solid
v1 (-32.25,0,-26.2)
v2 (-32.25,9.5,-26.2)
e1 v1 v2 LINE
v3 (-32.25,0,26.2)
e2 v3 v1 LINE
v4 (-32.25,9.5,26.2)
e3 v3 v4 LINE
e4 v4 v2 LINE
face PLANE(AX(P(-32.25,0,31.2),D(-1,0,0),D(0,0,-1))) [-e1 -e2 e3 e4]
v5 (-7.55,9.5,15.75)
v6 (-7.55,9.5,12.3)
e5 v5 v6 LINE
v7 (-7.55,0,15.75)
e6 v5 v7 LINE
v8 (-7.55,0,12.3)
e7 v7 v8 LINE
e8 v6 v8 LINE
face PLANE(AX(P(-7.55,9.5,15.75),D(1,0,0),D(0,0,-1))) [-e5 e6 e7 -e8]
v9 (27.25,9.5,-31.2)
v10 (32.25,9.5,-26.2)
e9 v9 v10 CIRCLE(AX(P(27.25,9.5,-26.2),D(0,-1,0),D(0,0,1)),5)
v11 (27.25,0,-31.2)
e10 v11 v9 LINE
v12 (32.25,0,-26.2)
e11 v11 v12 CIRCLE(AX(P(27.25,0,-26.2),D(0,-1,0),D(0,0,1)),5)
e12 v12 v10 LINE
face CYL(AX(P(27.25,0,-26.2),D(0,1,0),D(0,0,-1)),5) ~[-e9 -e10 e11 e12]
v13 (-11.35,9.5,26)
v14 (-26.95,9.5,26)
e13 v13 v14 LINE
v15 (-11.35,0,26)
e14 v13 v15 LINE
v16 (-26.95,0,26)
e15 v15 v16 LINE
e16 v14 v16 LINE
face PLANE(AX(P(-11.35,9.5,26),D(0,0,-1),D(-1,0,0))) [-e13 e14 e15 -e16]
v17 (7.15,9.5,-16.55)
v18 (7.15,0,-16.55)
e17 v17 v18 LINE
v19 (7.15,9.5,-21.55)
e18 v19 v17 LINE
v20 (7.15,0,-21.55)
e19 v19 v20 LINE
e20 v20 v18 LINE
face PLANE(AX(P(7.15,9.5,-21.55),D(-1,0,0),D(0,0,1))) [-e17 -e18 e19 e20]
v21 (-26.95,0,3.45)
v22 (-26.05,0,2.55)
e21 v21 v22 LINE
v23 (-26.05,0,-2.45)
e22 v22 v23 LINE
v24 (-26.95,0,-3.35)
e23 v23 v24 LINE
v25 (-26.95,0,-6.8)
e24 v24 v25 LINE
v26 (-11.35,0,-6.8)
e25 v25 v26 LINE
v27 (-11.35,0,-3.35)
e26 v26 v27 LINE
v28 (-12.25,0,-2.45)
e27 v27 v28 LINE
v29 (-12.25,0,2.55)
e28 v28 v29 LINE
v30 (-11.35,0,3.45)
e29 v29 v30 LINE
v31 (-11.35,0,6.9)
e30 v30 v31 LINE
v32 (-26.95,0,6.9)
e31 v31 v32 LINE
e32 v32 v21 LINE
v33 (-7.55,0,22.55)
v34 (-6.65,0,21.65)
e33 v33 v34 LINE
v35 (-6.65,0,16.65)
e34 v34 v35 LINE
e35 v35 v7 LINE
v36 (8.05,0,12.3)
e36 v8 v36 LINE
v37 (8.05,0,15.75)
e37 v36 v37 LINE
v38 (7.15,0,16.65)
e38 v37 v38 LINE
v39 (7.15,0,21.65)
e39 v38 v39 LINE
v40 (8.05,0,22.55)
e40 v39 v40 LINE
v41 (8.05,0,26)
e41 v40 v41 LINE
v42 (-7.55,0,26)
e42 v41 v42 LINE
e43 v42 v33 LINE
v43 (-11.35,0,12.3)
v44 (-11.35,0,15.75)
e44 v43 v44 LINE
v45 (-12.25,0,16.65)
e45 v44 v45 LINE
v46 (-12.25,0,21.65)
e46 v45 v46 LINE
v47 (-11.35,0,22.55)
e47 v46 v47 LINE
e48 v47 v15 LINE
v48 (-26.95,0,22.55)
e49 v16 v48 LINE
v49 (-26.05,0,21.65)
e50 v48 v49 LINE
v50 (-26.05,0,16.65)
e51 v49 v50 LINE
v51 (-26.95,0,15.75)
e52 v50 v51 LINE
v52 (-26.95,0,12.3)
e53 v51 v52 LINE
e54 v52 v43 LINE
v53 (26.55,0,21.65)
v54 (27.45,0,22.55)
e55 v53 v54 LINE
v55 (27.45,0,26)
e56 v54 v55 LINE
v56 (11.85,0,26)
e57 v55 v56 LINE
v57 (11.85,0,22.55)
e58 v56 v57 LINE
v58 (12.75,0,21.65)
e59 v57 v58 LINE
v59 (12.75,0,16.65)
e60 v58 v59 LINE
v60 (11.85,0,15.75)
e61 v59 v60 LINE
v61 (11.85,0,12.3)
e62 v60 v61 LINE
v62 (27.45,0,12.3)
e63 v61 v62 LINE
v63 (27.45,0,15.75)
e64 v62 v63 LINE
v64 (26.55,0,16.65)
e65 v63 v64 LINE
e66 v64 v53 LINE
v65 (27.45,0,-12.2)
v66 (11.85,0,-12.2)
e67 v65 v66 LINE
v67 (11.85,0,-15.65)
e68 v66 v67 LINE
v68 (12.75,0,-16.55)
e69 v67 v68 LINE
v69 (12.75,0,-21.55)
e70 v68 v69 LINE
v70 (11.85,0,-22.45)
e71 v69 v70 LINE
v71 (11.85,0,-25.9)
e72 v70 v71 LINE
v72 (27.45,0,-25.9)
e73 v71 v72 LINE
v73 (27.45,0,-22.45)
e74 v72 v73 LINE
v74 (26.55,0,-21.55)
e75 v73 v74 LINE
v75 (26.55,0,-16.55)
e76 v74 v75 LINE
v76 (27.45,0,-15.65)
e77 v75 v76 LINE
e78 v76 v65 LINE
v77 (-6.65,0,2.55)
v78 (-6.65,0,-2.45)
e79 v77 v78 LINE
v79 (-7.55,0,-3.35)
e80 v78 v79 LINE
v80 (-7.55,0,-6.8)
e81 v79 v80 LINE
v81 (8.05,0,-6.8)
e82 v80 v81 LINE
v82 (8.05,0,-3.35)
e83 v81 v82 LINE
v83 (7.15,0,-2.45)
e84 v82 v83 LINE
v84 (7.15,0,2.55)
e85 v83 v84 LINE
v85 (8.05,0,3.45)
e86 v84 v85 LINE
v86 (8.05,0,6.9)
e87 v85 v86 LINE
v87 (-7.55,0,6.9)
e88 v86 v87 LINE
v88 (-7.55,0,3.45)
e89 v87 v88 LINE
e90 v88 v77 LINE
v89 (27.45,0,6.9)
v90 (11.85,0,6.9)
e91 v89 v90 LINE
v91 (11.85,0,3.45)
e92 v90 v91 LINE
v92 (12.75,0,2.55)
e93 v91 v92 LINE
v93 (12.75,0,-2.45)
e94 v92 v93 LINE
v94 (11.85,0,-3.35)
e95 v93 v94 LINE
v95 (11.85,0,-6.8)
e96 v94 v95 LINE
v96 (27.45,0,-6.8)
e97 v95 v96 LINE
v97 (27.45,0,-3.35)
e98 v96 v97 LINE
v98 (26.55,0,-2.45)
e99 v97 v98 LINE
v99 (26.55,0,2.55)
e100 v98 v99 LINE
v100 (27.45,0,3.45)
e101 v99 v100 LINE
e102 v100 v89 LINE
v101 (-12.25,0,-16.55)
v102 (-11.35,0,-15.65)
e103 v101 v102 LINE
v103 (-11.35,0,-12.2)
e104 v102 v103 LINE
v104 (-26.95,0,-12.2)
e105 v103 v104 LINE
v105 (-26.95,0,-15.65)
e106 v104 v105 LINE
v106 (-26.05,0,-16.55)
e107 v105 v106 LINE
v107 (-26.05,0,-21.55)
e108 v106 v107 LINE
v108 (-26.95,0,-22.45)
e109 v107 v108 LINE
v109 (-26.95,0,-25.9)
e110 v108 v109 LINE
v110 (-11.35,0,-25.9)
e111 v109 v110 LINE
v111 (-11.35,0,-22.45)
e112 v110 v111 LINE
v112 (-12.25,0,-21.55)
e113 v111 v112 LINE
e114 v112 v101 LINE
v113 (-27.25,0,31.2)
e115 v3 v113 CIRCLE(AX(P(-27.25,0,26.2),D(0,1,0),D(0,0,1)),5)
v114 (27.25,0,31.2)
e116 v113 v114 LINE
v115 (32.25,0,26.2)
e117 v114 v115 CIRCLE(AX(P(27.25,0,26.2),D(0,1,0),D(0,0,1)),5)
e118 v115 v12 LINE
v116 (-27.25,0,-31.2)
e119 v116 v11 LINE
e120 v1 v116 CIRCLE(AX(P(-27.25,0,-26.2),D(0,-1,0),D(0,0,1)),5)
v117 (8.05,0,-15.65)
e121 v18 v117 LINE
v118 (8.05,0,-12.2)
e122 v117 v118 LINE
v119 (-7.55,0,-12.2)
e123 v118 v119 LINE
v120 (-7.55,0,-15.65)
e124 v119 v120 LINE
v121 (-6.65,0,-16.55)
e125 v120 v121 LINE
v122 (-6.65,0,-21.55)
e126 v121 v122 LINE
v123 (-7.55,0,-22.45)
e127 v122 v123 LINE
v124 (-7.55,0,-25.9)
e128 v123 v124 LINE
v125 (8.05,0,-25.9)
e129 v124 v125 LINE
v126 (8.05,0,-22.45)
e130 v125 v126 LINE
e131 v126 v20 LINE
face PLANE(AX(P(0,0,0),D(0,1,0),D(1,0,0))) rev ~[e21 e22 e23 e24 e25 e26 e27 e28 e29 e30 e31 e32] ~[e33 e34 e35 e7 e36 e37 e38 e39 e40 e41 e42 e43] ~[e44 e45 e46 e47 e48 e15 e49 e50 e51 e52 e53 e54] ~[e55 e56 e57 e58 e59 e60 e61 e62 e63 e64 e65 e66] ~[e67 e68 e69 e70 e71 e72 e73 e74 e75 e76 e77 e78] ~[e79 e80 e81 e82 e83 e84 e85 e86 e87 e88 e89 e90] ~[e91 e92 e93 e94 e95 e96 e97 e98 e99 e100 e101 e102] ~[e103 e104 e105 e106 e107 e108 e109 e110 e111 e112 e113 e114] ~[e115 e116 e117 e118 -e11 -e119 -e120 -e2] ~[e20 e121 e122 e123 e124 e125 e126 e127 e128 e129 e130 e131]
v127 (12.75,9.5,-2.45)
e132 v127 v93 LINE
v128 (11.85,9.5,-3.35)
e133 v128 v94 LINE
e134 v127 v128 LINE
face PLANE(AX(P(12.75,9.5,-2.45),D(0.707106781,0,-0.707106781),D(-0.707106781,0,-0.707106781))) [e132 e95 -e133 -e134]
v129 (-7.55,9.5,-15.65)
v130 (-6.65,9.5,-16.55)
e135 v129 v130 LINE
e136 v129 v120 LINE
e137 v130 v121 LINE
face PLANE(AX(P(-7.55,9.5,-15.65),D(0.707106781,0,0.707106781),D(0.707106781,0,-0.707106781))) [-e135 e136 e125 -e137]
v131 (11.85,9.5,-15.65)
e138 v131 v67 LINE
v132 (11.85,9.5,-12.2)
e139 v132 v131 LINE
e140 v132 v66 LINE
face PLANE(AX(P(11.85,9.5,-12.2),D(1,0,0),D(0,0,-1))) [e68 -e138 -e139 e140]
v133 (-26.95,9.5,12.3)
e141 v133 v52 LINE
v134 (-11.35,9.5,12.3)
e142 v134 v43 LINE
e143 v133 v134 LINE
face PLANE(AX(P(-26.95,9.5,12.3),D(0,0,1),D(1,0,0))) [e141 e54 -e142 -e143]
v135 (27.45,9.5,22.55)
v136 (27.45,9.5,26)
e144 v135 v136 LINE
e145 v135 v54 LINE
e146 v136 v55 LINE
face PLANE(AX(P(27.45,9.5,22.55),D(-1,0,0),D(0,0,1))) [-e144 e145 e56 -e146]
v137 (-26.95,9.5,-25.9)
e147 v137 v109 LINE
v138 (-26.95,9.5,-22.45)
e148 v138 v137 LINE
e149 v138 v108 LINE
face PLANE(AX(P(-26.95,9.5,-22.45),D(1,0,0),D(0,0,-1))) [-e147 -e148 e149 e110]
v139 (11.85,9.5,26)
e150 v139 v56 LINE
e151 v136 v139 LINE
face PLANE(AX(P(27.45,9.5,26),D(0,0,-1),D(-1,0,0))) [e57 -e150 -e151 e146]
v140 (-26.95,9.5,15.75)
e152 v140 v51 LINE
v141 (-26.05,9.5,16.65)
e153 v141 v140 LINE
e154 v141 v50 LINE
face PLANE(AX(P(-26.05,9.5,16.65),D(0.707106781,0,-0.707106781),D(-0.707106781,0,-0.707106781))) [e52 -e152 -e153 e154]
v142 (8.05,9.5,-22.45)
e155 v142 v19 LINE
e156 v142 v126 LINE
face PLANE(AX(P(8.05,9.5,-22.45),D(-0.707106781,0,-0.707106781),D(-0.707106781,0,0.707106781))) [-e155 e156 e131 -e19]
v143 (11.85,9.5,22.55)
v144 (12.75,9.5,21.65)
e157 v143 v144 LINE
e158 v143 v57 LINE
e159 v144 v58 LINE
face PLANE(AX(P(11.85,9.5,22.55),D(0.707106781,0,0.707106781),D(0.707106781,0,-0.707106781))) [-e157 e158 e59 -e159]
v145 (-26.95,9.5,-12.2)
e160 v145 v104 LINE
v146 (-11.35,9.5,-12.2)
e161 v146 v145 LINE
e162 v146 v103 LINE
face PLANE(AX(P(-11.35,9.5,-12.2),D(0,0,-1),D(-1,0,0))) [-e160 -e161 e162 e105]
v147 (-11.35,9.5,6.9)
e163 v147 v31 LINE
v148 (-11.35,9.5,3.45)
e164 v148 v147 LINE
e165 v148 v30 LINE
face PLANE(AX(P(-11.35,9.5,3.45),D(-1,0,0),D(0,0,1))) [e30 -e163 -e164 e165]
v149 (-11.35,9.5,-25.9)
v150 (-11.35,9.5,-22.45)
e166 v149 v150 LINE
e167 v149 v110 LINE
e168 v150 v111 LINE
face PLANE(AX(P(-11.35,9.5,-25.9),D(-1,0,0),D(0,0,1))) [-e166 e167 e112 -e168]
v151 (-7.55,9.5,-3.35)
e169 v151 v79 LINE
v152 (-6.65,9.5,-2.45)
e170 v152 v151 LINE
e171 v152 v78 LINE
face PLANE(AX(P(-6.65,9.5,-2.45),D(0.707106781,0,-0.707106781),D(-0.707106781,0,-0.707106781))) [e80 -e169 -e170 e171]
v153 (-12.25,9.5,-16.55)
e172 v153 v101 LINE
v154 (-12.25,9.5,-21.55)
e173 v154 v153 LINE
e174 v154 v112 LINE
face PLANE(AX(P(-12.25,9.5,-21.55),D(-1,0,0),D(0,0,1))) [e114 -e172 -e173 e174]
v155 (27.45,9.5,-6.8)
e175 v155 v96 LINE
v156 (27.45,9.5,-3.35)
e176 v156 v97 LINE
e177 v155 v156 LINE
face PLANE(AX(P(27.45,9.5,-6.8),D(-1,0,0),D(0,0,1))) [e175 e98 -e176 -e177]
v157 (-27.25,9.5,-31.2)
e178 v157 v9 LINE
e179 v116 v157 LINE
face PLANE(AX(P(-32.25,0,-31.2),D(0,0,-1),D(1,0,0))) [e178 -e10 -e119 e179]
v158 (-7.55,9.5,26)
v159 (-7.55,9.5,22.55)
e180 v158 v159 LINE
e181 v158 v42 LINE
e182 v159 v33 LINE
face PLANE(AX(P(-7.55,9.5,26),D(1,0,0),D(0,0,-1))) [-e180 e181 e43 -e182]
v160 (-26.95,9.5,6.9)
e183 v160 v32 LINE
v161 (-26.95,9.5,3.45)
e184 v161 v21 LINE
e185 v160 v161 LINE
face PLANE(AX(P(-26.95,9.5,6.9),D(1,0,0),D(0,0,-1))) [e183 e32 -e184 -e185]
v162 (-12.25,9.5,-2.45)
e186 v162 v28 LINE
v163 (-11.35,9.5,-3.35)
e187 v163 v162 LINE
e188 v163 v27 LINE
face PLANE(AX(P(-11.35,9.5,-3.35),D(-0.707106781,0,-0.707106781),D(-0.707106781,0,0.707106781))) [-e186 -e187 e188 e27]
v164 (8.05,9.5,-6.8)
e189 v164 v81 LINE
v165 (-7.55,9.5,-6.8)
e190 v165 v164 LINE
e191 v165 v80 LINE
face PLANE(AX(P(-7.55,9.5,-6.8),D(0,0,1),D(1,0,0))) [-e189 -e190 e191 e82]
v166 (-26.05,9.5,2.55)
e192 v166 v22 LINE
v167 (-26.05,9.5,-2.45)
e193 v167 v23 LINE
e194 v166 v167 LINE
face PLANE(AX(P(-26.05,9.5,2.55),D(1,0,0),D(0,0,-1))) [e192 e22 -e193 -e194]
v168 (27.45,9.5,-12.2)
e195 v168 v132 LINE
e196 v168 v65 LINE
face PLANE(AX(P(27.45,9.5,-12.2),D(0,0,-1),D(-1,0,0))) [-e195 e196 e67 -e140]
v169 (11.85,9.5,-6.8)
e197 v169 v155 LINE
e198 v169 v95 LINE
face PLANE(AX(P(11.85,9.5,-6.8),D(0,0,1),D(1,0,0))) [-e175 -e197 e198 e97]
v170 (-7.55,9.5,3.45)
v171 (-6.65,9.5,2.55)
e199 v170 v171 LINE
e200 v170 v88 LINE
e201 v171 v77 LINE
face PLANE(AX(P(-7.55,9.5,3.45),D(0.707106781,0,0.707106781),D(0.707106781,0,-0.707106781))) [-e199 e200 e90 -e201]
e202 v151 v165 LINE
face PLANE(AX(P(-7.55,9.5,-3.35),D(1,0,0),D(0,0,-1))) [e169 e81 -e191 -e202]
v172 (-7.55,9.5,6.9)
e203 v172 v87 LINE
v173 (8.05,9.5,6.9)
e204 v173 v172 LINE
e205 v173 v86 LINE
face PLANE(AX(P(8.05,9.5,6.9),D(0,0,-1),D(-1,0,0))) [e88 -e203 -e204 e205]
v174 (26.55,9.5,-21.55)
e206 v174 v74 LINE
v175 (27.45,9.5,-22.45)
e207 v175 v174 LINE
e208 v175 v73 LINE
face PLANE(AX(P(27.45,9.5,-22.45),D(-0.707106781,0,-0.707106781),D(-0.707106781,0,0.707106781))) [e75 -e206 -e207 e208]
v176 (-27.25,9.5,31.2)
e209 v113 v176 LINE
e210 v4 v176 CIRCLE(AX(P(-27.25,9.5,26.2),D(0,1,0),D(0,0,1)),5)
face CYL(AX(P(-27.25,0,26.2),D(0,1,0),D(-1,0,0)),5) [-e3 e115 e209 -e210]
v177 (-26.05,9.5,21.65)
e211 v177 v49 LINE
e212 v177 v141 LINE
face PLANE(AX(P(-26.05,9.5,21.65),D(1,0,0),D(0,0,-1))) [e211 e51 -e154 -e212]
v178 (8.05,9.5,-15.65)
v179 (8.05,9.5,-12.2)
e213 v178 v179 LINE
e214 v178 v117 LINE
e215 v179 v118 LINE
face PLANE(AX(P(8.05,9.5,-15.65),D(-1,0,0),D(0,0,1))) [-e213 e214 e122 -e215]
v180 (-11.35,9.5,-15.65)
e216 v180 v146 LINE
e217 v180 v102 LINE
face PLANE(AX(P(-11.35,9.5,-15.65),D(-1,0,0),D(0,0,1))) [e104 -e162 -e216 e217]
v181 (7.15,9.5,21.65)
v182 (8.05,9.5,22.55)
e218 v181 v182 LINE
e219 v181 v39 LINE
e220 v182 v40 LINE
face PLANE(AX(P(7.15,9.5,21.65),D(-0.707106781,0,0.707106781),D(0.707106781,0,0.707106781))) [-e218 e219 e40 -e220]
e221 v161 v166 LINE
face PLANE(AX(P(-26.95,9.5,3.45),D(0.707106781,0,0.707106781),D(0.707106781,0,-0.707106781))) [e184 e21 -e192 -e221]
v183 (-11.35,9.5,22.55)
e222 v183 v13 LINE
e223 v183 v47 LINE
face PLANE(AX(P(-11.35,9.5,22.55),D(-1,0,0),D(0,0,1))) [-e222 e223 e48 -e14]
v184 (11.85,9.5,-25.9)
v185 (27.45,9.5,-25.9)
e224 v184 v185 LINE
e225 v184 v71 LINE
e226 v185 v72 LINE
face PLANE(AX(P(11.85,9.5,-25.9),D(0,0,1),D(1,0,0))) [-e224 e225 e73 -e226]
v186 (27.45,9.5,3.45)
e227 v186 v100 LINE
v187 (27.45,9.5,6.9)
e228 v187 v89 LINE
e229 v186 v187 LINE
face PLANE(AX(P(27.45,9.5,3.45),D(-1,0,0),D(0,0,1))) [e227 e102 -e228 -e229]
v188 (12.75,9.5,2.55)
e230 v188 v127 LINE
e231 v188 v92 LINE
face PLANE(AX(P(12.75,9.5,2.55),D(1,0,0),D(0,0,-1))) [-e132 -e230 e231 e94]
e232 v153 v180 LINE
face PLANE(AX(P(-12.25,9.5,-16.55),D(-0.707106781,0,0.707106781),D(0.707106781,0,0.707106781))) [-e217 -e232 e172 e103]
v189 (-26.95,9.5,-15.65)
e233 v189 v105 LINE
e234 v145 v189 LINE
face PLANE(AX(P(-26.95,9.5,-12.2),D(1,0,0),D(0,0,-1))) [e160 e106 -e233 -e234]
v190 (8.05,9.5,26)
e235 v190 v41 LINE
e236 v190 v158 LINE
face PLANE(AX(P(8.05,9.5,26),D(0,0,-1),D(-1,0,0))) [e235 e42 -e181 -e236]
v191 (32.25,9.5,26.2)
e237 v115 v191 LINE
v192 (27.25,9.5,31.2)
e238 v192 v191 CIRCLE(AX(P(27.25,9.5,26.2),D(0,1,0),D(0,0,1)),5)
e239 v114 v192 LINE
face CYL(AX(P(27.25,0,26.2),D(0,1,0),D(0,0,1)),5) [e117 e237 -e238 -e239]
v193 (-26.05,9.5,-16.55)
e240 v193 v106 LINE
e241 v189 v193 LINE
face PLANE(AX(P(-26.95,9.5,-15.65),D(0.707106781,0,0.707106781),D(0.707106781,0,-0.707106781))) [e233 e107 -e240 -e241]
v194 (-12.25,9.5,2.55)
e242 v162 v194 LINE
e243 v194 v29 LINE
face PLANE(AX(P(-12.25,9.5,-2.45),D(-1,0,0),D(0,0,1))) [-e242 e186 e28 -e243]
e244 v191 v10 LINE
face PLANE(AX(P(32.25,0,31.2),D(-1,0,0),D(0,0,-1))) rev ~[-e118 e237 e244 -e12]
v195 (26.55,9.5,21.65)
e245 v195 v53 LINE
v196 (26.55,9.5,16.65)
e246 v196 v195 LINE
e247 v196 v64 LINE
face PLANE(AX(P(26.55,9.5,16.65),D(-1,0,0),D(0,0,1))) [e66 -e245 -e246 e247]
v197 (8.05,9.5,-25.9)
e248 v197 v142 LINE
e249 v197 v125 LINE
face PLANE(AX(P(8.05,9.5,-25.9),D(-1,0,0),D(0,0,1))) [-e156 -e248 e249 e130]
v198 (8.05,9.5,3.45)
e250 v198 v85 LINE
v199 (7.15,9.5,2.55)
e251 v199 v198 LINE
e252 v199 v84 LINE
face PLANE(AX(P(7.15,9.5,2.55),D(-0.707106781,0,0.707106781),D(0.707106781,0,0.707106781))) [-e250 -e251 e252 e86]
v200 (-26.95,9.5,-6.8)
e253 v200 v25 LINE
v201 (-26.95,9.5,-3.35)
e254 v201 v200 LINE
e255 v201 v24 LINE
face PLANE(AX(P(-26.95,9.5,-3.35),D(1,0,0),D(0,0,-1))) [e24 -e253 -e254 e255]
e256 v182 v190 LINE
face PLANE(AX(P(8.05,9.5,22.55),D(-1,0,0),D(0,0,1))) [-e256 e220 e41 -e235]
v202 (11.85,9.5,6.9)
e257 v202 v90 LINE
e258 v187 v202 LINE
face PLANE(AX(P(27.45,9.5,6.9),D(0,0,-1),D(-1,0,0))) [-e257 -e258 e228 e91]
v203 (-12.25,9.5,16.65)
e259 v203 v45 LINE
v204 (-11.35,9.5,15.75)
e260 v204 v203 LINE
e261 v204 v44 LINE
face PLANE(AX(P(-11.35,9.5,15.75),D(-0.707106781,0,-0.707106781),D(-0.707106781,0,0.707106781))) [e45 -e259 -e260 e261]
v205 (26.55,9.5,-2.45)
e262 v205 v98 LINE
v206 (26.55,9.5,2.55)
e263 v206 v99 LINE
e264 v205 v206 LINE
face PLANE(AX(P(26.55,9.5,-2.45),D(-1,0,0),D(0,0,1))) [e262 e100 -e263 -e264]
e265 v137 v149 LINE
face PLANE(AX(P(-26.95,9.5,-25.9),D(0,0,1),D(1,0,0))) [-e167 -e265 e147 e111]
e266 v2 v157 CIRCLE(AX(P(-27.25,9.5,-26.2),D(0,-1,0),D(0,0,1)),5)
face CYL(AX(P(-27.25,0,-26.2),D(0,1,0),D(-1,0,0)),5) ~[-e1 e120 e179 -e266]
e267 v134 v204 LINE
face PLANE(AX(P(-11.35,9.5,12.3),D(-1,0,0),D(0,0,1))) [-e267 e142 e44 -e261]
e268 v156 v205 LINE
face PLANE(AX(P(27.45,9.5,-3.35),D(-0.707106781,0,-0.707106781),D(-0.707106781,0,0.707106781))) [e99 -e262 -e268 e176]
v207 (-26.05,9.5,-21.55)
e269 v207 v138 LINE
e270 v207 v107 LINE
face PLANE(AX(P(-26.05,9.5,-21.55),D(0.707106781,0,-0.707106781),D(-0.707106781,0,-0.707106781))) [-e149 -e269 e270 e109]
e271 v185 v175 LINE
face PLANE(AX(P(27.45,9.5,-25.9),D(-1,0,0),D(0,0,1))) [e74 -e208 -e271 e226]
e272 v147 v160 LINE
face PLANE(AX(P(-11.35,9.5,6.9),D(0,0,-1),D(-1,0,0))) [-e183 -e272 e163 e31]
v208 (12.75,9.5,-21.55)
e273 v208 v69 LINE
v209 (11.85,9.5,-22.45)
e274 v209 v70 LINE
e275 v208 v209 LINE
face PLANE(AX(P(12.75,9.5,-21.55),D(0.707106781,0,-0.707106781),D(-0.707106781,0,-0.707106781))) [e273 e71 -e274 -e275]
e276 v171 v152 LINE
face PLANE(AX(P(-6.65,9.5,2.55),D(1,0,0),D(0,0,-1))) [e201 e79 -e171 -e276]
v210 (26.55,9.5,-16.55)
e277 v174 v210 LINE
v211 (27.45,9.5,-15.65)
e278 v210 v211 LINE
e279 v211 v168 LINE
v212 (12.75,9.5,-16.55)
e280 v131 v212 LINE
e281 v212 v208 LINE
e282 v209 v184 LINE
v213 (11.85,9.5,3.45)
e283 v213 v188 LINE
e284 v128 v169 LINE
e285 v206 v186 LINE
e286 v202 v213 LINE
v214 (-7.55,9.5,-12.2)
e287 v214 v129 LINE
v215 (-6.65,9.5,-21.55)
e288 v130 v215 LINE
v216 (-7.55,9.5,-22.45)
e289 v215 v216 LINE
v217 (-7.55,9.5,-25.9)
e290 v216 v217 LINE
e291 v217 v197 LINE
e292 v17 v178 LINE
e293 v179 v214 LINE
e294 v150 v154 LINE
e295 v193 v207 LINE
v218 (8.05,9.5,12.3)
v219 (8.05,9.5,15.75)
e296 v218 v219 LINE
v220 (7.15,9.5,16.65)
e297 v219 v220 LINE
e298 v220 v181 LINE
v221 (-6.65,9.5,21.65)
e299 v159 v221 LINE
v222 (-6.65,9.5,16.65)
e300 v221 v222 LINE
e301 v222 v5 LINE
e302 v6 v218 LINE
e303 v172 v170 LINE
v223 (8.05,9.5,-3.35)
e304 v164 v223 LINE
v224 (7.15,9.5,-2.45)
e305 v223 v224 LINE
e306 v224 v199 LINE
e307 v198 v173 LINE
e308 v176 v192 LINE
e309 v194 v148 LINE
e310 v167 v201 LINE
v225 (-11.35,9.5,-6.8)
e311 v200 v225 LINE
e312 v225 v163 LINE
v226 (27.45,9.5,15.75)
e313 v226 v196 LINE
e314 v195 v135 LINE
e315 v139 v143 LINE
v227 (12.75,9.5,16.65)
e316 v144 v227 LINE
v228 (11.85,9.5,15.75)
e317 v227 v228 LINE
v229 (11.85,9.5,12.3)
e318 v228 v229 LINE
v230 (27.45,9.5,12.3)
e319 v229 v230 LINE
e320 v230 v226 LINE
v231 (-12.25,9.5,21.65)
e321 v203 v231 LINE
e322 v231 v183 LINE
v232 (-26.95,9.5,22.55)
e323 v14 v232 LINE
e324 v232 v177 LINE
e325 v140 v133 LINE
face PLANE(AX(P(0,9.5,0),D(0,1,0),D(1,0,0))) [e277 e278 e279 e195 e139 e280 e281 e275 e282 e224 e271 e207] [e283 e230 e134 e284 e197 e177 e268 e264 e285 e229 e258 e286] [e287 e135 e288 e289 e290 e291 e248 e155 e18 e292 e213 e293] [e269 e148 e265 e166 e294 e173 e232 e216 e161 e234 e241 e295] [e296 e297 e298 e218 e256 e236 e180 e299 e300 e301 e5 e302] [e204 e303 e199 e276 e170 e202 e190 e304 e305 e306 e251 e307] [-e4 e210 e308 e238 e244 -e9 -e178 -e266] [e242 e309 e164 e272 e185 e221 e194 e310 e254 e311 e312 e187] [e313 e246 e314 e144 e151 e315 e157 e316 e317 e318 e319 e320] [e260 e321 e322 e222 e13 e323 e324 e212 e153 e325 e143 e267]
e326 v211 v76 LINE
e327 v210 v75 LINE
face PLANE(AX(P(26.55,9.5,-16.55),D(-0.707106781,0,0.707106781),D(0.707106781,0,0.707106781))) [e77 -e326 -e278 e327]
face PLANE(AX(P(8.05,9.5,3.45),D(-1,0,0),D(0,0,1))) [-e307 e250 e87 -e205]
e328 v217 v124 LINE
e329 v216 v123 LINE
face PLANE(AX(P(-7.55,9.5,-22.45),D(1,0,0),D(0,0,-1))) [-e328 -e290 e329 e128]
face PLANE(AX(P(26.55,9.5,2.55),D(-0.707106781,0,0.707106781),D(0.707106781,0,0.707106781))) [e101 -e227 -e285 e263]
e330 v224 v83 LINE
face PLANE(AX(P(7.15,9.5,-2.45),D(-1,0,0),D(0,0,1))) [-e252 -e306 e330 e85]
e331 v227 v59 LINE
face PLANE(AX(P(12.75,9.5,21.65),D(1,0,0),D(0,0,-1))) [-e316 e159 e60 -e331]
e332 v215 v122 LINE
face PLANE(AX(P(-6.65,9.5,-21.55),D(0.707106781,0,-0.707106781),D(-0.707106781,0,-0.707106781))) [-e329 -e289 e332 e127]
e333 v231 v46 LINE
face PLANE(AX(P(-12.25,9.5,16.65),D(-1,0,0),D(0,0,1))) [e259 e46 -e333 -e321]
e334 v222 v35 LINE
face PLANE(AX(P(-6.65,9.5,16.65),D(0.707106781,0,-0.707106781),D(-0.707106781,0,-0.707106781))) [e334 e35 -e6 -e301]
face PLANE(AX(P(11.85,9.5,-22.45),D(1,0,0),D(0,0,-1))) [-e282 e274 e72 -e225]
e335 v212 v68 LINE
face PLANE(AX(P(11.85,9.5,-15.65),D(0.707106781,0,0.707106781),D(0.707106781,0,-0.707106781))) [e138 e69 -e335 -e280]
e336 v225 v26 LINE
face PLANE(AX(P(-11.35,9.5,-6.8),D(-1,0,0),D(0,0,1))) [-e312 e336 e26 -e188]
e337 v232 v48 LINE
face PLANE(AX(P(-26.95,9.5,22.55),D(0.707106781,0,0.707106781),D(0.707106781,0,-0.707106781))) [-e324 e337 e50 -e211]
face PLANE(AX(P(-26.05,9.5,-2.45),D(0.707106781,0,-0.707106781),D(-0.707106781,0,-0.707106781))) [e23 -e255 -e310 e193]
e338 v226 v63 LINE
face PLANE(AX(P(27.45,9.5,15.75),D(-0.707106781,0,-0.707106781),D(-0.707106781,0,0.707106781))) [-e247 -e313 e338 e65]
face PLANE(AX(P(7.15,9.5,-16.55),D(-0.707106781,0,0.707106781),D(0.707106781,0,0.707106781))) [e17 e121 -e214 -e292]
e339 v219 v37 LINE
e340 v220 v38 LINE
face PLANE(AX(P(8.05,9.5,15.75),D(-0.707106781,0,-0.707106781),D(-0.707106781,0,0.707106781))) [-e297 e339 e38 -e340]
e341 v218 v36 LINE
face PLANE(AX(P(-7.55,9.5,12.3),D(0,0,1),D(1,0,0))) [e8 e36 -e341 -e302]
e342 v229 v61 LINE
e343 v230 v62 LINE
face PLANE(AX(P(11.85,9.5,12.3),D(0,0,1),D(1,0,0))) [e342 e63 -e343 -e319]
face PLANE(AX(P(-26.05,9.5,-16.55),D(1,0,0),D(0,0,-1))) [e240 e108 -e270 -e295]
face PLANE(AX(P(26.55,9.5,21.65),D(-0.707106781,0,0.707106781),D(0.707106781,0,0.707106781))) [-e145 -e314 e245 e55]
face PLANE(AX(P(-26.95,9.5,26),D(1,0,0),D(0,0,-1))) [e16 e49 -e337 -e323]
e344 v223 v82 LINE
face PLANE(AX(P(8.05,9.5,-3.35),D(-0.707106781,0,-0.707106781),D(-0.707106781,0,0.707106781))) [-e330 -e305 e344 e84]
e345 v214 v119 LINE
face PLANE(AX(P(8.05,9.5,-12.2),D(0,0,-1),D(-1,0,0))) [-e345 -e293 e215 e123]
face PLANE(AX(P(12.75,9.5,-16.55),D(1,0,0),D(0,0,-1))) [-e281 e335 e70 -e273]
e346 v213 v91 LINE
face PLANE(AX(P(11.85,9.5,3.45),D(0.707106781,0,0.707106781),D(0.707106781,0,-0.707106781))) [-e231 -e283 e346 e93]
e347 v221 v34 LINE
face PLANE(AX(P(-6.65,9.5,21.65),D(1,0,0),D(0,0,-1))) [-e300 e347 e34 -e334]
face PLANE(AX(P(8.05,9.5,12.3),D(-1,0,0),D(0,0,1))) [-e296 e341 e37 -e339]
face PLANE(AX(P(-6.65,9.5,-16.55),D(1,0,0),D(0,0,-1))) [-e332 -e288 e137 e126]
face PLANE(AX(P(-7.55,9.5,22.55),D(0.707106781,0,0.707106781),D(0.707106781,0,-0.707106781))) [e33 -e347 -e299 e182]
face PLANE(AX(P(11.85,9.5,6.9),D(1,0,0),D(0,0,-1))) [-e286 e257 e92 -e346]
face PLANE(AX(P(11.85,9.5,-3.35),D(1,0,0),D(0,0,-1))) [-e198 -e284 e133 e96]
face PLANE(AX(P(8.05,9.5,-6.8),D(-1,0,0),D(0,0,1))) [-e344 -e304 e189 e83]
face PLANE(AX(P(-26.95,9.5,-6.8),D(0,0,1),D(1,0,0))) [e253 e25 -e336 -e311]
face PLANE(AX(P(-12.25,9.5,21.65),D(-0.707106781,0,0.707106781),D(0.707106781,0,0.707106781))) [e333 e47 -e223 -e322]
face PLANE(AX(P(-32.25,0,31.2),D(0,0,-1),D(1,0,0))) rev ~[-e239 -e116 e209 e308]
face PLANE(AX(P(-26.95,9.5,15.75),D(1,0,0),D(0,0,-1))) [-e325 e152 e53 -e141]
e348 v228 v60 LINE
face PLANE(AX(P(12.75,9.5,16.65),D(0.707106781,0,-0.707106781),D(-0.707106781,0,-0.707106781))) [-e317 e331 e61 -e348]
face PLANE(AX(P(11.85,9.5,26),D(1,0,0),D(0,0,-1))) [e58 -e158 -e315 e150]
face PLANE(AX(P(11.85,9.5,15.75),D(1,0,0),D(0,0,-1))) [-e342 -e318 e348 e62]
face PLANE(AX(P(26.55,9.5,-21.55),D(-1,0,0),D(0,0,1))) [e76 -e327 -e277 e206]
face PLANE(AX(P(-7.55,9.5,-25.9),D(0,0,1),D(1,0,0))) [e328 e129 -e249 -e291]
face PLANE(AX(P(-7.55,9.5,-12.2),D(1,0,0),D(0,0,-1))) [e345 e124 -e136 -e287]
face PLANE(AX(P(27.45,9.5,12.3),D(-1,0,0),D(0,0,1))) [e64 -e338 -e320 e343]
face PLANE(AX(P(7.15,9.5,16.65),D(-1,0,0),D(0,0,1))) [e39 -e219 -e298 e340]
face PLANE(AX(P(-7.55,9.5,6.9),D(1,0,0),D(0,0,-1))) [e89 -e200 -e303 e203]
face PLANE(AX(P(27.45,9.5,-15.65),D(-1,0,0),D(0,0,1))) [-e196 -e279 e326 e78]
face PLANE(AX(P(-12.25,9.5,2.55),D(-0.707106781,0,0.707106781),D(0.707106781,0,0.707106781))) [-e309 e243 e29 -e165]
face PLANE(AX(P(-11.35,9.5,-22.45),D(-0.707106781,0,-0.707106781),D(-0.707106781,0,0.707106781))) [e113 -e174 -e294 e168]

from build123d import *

# Parameters (mm, degrees)
ESQUISSE1_W             = 64.5
ESQUISSE1_H             = 62.4
BOSS_EXTRU_1_DEPTH      = 9.5
ENL_V_MAT_EXTRU_1_DEPTH = 46.866681807
CONG_1_R                = 5


with BuildPart() as part:
    # Esquisse1 → Boss.-Extru.1 (new body)
    with BuildSketch(Plane(origin=(0, 0, 0), x_dir=(1, 0, 0), z_dir=(0, 1, 0))):
        Rectangle(ESQUISSE1_W, ESQUISSE1_H)
    extrude(amount=BOSS_EXTRU_1_DEPTH)

    # Esquisse2 → Enlèv. mat.-Extru.1 (cut, through all)
    with BuildSketch(Plane(origin=(0, 9.5, 0), x_dir=(1, 0, 0), z_dir=(0, 1, 0))):
        Polygon((-26.95, 25.9), (-11.35, 25.9), (-11.35, 22.45), (-12.25, 21.55), (-12.25, 16.55), (-11.35, 15.65), (-11.35, 12.2), (-26.95, 12.2), (-26.95, 15.65), (-26.05, 16.55), (-26.05, 21.55), (-26.95, 22.45), align=None)
        Polygon((-7.55, 25.9), (8.05, 25.9), (8.05, 22.45), (7.15, 21.55), (7.15, 16.55), (8.05, 15.65), (8.05, 12.2), (-7.55, 12.2), (-7.55, 15.65), (-6.65, 16.55), (-6.65, 21.55), (-7.55, 22.45), align=None)
        Polygon((11.85, 25.9), (27.45, 25.9), (27.45, 22.45), (26.55, 21.55), (26.55, 16.55), (27.45, 15.65), (27.45, 12.2), (11.85, 12.2), (11.85, 15.65), (12.75, 16.55), (12.75, 21.55), (11.85, 22.45), align=None)
        Polygon((-7.55, 6.8), (8.05, 6.8), (8.05, 3.35), (7.15, 2.45), (7.15, -2.55), (8.05, -3.45), (8.05, -6.9), (-7.55, -6.9), (-7.55, -3.45), (-6.65, -2.55), (-6.65, 2.45), (-7.55, 3.35), align=None)
        Polygon((11.85, 6.8), (27.45, 6.8), (27.45, 3.35), (26.55, 2.45), (26.55, -2.55), (27.45, -3.45), (27.45, -6.9), (11.85, -6.9), (11.85, -3.45), (12.75, -2.55), (12.75, 2.45), (11.85, 3.35), align=None)
        Polygon((-7.55, -12.3), (8.05, -12.3), (8.05, -15.75), (7.15, -16.65), (7.15, -21.65), (8.05, -22.55), (8.05, -26), (-7.55, -26), (-7.55, -22.55), (-6.65, -21.65), (-6.65, -16.65), (-7.55, -15.75), align=None)
        Polygon((11.85, -12.3), (27.45, -12.3), (27.45, -15.75), (26.55, -16.65), (26.55, -21.65), (27.45, -22.55), (27.45, -26), (11.85, -26), (11.85, -22.55), (12.75, -21.65), (12.75, -16.65), (11.85, -15.75), align=None)
        Polygon((-26.95, 6.8), (-11.35, 6.8), (-11.35, 3.35), (-12.25, 2.45), (-12.25, -2.55), (-11.35, -3.45), (-11.35, -6.9), (-26.95, -6.9), (-26.95, -3.45), (-26.05, -2.55), (-26.05, 2.45), (-26.95, 3.35), align=None)
        Polygon((-26.95, -12.3), (-11.35, -12.3), (-11.35, -15.75), (-12.25, -16.65), (-12.25, -21.65), (-11.35, -22.55), (-11.35, -26), (-26.95, -26), (-26.95, -22.55), (-26.05, -21.65), (-26.05, -16.65), (-26.95, -15.75), align=None)
    extrude(amount=-ENL_V_MAT_EXTRU_1_DEPTH, mode=Mode.SUBTRACT)

    # Congé1
    cong_1_edges = [part.edges().sort_by_distance(p)[0] for p in [
        (32.25, 4.75, 31.2),
        (-32.25, 4.75, 31.2),
        (-32.25, 4.75, -31.2),
        (32.25, 4.75, -31.2),
    ]]
    fillet(cong_1_edges, radius=CONG_1_R)


solid = part.part
